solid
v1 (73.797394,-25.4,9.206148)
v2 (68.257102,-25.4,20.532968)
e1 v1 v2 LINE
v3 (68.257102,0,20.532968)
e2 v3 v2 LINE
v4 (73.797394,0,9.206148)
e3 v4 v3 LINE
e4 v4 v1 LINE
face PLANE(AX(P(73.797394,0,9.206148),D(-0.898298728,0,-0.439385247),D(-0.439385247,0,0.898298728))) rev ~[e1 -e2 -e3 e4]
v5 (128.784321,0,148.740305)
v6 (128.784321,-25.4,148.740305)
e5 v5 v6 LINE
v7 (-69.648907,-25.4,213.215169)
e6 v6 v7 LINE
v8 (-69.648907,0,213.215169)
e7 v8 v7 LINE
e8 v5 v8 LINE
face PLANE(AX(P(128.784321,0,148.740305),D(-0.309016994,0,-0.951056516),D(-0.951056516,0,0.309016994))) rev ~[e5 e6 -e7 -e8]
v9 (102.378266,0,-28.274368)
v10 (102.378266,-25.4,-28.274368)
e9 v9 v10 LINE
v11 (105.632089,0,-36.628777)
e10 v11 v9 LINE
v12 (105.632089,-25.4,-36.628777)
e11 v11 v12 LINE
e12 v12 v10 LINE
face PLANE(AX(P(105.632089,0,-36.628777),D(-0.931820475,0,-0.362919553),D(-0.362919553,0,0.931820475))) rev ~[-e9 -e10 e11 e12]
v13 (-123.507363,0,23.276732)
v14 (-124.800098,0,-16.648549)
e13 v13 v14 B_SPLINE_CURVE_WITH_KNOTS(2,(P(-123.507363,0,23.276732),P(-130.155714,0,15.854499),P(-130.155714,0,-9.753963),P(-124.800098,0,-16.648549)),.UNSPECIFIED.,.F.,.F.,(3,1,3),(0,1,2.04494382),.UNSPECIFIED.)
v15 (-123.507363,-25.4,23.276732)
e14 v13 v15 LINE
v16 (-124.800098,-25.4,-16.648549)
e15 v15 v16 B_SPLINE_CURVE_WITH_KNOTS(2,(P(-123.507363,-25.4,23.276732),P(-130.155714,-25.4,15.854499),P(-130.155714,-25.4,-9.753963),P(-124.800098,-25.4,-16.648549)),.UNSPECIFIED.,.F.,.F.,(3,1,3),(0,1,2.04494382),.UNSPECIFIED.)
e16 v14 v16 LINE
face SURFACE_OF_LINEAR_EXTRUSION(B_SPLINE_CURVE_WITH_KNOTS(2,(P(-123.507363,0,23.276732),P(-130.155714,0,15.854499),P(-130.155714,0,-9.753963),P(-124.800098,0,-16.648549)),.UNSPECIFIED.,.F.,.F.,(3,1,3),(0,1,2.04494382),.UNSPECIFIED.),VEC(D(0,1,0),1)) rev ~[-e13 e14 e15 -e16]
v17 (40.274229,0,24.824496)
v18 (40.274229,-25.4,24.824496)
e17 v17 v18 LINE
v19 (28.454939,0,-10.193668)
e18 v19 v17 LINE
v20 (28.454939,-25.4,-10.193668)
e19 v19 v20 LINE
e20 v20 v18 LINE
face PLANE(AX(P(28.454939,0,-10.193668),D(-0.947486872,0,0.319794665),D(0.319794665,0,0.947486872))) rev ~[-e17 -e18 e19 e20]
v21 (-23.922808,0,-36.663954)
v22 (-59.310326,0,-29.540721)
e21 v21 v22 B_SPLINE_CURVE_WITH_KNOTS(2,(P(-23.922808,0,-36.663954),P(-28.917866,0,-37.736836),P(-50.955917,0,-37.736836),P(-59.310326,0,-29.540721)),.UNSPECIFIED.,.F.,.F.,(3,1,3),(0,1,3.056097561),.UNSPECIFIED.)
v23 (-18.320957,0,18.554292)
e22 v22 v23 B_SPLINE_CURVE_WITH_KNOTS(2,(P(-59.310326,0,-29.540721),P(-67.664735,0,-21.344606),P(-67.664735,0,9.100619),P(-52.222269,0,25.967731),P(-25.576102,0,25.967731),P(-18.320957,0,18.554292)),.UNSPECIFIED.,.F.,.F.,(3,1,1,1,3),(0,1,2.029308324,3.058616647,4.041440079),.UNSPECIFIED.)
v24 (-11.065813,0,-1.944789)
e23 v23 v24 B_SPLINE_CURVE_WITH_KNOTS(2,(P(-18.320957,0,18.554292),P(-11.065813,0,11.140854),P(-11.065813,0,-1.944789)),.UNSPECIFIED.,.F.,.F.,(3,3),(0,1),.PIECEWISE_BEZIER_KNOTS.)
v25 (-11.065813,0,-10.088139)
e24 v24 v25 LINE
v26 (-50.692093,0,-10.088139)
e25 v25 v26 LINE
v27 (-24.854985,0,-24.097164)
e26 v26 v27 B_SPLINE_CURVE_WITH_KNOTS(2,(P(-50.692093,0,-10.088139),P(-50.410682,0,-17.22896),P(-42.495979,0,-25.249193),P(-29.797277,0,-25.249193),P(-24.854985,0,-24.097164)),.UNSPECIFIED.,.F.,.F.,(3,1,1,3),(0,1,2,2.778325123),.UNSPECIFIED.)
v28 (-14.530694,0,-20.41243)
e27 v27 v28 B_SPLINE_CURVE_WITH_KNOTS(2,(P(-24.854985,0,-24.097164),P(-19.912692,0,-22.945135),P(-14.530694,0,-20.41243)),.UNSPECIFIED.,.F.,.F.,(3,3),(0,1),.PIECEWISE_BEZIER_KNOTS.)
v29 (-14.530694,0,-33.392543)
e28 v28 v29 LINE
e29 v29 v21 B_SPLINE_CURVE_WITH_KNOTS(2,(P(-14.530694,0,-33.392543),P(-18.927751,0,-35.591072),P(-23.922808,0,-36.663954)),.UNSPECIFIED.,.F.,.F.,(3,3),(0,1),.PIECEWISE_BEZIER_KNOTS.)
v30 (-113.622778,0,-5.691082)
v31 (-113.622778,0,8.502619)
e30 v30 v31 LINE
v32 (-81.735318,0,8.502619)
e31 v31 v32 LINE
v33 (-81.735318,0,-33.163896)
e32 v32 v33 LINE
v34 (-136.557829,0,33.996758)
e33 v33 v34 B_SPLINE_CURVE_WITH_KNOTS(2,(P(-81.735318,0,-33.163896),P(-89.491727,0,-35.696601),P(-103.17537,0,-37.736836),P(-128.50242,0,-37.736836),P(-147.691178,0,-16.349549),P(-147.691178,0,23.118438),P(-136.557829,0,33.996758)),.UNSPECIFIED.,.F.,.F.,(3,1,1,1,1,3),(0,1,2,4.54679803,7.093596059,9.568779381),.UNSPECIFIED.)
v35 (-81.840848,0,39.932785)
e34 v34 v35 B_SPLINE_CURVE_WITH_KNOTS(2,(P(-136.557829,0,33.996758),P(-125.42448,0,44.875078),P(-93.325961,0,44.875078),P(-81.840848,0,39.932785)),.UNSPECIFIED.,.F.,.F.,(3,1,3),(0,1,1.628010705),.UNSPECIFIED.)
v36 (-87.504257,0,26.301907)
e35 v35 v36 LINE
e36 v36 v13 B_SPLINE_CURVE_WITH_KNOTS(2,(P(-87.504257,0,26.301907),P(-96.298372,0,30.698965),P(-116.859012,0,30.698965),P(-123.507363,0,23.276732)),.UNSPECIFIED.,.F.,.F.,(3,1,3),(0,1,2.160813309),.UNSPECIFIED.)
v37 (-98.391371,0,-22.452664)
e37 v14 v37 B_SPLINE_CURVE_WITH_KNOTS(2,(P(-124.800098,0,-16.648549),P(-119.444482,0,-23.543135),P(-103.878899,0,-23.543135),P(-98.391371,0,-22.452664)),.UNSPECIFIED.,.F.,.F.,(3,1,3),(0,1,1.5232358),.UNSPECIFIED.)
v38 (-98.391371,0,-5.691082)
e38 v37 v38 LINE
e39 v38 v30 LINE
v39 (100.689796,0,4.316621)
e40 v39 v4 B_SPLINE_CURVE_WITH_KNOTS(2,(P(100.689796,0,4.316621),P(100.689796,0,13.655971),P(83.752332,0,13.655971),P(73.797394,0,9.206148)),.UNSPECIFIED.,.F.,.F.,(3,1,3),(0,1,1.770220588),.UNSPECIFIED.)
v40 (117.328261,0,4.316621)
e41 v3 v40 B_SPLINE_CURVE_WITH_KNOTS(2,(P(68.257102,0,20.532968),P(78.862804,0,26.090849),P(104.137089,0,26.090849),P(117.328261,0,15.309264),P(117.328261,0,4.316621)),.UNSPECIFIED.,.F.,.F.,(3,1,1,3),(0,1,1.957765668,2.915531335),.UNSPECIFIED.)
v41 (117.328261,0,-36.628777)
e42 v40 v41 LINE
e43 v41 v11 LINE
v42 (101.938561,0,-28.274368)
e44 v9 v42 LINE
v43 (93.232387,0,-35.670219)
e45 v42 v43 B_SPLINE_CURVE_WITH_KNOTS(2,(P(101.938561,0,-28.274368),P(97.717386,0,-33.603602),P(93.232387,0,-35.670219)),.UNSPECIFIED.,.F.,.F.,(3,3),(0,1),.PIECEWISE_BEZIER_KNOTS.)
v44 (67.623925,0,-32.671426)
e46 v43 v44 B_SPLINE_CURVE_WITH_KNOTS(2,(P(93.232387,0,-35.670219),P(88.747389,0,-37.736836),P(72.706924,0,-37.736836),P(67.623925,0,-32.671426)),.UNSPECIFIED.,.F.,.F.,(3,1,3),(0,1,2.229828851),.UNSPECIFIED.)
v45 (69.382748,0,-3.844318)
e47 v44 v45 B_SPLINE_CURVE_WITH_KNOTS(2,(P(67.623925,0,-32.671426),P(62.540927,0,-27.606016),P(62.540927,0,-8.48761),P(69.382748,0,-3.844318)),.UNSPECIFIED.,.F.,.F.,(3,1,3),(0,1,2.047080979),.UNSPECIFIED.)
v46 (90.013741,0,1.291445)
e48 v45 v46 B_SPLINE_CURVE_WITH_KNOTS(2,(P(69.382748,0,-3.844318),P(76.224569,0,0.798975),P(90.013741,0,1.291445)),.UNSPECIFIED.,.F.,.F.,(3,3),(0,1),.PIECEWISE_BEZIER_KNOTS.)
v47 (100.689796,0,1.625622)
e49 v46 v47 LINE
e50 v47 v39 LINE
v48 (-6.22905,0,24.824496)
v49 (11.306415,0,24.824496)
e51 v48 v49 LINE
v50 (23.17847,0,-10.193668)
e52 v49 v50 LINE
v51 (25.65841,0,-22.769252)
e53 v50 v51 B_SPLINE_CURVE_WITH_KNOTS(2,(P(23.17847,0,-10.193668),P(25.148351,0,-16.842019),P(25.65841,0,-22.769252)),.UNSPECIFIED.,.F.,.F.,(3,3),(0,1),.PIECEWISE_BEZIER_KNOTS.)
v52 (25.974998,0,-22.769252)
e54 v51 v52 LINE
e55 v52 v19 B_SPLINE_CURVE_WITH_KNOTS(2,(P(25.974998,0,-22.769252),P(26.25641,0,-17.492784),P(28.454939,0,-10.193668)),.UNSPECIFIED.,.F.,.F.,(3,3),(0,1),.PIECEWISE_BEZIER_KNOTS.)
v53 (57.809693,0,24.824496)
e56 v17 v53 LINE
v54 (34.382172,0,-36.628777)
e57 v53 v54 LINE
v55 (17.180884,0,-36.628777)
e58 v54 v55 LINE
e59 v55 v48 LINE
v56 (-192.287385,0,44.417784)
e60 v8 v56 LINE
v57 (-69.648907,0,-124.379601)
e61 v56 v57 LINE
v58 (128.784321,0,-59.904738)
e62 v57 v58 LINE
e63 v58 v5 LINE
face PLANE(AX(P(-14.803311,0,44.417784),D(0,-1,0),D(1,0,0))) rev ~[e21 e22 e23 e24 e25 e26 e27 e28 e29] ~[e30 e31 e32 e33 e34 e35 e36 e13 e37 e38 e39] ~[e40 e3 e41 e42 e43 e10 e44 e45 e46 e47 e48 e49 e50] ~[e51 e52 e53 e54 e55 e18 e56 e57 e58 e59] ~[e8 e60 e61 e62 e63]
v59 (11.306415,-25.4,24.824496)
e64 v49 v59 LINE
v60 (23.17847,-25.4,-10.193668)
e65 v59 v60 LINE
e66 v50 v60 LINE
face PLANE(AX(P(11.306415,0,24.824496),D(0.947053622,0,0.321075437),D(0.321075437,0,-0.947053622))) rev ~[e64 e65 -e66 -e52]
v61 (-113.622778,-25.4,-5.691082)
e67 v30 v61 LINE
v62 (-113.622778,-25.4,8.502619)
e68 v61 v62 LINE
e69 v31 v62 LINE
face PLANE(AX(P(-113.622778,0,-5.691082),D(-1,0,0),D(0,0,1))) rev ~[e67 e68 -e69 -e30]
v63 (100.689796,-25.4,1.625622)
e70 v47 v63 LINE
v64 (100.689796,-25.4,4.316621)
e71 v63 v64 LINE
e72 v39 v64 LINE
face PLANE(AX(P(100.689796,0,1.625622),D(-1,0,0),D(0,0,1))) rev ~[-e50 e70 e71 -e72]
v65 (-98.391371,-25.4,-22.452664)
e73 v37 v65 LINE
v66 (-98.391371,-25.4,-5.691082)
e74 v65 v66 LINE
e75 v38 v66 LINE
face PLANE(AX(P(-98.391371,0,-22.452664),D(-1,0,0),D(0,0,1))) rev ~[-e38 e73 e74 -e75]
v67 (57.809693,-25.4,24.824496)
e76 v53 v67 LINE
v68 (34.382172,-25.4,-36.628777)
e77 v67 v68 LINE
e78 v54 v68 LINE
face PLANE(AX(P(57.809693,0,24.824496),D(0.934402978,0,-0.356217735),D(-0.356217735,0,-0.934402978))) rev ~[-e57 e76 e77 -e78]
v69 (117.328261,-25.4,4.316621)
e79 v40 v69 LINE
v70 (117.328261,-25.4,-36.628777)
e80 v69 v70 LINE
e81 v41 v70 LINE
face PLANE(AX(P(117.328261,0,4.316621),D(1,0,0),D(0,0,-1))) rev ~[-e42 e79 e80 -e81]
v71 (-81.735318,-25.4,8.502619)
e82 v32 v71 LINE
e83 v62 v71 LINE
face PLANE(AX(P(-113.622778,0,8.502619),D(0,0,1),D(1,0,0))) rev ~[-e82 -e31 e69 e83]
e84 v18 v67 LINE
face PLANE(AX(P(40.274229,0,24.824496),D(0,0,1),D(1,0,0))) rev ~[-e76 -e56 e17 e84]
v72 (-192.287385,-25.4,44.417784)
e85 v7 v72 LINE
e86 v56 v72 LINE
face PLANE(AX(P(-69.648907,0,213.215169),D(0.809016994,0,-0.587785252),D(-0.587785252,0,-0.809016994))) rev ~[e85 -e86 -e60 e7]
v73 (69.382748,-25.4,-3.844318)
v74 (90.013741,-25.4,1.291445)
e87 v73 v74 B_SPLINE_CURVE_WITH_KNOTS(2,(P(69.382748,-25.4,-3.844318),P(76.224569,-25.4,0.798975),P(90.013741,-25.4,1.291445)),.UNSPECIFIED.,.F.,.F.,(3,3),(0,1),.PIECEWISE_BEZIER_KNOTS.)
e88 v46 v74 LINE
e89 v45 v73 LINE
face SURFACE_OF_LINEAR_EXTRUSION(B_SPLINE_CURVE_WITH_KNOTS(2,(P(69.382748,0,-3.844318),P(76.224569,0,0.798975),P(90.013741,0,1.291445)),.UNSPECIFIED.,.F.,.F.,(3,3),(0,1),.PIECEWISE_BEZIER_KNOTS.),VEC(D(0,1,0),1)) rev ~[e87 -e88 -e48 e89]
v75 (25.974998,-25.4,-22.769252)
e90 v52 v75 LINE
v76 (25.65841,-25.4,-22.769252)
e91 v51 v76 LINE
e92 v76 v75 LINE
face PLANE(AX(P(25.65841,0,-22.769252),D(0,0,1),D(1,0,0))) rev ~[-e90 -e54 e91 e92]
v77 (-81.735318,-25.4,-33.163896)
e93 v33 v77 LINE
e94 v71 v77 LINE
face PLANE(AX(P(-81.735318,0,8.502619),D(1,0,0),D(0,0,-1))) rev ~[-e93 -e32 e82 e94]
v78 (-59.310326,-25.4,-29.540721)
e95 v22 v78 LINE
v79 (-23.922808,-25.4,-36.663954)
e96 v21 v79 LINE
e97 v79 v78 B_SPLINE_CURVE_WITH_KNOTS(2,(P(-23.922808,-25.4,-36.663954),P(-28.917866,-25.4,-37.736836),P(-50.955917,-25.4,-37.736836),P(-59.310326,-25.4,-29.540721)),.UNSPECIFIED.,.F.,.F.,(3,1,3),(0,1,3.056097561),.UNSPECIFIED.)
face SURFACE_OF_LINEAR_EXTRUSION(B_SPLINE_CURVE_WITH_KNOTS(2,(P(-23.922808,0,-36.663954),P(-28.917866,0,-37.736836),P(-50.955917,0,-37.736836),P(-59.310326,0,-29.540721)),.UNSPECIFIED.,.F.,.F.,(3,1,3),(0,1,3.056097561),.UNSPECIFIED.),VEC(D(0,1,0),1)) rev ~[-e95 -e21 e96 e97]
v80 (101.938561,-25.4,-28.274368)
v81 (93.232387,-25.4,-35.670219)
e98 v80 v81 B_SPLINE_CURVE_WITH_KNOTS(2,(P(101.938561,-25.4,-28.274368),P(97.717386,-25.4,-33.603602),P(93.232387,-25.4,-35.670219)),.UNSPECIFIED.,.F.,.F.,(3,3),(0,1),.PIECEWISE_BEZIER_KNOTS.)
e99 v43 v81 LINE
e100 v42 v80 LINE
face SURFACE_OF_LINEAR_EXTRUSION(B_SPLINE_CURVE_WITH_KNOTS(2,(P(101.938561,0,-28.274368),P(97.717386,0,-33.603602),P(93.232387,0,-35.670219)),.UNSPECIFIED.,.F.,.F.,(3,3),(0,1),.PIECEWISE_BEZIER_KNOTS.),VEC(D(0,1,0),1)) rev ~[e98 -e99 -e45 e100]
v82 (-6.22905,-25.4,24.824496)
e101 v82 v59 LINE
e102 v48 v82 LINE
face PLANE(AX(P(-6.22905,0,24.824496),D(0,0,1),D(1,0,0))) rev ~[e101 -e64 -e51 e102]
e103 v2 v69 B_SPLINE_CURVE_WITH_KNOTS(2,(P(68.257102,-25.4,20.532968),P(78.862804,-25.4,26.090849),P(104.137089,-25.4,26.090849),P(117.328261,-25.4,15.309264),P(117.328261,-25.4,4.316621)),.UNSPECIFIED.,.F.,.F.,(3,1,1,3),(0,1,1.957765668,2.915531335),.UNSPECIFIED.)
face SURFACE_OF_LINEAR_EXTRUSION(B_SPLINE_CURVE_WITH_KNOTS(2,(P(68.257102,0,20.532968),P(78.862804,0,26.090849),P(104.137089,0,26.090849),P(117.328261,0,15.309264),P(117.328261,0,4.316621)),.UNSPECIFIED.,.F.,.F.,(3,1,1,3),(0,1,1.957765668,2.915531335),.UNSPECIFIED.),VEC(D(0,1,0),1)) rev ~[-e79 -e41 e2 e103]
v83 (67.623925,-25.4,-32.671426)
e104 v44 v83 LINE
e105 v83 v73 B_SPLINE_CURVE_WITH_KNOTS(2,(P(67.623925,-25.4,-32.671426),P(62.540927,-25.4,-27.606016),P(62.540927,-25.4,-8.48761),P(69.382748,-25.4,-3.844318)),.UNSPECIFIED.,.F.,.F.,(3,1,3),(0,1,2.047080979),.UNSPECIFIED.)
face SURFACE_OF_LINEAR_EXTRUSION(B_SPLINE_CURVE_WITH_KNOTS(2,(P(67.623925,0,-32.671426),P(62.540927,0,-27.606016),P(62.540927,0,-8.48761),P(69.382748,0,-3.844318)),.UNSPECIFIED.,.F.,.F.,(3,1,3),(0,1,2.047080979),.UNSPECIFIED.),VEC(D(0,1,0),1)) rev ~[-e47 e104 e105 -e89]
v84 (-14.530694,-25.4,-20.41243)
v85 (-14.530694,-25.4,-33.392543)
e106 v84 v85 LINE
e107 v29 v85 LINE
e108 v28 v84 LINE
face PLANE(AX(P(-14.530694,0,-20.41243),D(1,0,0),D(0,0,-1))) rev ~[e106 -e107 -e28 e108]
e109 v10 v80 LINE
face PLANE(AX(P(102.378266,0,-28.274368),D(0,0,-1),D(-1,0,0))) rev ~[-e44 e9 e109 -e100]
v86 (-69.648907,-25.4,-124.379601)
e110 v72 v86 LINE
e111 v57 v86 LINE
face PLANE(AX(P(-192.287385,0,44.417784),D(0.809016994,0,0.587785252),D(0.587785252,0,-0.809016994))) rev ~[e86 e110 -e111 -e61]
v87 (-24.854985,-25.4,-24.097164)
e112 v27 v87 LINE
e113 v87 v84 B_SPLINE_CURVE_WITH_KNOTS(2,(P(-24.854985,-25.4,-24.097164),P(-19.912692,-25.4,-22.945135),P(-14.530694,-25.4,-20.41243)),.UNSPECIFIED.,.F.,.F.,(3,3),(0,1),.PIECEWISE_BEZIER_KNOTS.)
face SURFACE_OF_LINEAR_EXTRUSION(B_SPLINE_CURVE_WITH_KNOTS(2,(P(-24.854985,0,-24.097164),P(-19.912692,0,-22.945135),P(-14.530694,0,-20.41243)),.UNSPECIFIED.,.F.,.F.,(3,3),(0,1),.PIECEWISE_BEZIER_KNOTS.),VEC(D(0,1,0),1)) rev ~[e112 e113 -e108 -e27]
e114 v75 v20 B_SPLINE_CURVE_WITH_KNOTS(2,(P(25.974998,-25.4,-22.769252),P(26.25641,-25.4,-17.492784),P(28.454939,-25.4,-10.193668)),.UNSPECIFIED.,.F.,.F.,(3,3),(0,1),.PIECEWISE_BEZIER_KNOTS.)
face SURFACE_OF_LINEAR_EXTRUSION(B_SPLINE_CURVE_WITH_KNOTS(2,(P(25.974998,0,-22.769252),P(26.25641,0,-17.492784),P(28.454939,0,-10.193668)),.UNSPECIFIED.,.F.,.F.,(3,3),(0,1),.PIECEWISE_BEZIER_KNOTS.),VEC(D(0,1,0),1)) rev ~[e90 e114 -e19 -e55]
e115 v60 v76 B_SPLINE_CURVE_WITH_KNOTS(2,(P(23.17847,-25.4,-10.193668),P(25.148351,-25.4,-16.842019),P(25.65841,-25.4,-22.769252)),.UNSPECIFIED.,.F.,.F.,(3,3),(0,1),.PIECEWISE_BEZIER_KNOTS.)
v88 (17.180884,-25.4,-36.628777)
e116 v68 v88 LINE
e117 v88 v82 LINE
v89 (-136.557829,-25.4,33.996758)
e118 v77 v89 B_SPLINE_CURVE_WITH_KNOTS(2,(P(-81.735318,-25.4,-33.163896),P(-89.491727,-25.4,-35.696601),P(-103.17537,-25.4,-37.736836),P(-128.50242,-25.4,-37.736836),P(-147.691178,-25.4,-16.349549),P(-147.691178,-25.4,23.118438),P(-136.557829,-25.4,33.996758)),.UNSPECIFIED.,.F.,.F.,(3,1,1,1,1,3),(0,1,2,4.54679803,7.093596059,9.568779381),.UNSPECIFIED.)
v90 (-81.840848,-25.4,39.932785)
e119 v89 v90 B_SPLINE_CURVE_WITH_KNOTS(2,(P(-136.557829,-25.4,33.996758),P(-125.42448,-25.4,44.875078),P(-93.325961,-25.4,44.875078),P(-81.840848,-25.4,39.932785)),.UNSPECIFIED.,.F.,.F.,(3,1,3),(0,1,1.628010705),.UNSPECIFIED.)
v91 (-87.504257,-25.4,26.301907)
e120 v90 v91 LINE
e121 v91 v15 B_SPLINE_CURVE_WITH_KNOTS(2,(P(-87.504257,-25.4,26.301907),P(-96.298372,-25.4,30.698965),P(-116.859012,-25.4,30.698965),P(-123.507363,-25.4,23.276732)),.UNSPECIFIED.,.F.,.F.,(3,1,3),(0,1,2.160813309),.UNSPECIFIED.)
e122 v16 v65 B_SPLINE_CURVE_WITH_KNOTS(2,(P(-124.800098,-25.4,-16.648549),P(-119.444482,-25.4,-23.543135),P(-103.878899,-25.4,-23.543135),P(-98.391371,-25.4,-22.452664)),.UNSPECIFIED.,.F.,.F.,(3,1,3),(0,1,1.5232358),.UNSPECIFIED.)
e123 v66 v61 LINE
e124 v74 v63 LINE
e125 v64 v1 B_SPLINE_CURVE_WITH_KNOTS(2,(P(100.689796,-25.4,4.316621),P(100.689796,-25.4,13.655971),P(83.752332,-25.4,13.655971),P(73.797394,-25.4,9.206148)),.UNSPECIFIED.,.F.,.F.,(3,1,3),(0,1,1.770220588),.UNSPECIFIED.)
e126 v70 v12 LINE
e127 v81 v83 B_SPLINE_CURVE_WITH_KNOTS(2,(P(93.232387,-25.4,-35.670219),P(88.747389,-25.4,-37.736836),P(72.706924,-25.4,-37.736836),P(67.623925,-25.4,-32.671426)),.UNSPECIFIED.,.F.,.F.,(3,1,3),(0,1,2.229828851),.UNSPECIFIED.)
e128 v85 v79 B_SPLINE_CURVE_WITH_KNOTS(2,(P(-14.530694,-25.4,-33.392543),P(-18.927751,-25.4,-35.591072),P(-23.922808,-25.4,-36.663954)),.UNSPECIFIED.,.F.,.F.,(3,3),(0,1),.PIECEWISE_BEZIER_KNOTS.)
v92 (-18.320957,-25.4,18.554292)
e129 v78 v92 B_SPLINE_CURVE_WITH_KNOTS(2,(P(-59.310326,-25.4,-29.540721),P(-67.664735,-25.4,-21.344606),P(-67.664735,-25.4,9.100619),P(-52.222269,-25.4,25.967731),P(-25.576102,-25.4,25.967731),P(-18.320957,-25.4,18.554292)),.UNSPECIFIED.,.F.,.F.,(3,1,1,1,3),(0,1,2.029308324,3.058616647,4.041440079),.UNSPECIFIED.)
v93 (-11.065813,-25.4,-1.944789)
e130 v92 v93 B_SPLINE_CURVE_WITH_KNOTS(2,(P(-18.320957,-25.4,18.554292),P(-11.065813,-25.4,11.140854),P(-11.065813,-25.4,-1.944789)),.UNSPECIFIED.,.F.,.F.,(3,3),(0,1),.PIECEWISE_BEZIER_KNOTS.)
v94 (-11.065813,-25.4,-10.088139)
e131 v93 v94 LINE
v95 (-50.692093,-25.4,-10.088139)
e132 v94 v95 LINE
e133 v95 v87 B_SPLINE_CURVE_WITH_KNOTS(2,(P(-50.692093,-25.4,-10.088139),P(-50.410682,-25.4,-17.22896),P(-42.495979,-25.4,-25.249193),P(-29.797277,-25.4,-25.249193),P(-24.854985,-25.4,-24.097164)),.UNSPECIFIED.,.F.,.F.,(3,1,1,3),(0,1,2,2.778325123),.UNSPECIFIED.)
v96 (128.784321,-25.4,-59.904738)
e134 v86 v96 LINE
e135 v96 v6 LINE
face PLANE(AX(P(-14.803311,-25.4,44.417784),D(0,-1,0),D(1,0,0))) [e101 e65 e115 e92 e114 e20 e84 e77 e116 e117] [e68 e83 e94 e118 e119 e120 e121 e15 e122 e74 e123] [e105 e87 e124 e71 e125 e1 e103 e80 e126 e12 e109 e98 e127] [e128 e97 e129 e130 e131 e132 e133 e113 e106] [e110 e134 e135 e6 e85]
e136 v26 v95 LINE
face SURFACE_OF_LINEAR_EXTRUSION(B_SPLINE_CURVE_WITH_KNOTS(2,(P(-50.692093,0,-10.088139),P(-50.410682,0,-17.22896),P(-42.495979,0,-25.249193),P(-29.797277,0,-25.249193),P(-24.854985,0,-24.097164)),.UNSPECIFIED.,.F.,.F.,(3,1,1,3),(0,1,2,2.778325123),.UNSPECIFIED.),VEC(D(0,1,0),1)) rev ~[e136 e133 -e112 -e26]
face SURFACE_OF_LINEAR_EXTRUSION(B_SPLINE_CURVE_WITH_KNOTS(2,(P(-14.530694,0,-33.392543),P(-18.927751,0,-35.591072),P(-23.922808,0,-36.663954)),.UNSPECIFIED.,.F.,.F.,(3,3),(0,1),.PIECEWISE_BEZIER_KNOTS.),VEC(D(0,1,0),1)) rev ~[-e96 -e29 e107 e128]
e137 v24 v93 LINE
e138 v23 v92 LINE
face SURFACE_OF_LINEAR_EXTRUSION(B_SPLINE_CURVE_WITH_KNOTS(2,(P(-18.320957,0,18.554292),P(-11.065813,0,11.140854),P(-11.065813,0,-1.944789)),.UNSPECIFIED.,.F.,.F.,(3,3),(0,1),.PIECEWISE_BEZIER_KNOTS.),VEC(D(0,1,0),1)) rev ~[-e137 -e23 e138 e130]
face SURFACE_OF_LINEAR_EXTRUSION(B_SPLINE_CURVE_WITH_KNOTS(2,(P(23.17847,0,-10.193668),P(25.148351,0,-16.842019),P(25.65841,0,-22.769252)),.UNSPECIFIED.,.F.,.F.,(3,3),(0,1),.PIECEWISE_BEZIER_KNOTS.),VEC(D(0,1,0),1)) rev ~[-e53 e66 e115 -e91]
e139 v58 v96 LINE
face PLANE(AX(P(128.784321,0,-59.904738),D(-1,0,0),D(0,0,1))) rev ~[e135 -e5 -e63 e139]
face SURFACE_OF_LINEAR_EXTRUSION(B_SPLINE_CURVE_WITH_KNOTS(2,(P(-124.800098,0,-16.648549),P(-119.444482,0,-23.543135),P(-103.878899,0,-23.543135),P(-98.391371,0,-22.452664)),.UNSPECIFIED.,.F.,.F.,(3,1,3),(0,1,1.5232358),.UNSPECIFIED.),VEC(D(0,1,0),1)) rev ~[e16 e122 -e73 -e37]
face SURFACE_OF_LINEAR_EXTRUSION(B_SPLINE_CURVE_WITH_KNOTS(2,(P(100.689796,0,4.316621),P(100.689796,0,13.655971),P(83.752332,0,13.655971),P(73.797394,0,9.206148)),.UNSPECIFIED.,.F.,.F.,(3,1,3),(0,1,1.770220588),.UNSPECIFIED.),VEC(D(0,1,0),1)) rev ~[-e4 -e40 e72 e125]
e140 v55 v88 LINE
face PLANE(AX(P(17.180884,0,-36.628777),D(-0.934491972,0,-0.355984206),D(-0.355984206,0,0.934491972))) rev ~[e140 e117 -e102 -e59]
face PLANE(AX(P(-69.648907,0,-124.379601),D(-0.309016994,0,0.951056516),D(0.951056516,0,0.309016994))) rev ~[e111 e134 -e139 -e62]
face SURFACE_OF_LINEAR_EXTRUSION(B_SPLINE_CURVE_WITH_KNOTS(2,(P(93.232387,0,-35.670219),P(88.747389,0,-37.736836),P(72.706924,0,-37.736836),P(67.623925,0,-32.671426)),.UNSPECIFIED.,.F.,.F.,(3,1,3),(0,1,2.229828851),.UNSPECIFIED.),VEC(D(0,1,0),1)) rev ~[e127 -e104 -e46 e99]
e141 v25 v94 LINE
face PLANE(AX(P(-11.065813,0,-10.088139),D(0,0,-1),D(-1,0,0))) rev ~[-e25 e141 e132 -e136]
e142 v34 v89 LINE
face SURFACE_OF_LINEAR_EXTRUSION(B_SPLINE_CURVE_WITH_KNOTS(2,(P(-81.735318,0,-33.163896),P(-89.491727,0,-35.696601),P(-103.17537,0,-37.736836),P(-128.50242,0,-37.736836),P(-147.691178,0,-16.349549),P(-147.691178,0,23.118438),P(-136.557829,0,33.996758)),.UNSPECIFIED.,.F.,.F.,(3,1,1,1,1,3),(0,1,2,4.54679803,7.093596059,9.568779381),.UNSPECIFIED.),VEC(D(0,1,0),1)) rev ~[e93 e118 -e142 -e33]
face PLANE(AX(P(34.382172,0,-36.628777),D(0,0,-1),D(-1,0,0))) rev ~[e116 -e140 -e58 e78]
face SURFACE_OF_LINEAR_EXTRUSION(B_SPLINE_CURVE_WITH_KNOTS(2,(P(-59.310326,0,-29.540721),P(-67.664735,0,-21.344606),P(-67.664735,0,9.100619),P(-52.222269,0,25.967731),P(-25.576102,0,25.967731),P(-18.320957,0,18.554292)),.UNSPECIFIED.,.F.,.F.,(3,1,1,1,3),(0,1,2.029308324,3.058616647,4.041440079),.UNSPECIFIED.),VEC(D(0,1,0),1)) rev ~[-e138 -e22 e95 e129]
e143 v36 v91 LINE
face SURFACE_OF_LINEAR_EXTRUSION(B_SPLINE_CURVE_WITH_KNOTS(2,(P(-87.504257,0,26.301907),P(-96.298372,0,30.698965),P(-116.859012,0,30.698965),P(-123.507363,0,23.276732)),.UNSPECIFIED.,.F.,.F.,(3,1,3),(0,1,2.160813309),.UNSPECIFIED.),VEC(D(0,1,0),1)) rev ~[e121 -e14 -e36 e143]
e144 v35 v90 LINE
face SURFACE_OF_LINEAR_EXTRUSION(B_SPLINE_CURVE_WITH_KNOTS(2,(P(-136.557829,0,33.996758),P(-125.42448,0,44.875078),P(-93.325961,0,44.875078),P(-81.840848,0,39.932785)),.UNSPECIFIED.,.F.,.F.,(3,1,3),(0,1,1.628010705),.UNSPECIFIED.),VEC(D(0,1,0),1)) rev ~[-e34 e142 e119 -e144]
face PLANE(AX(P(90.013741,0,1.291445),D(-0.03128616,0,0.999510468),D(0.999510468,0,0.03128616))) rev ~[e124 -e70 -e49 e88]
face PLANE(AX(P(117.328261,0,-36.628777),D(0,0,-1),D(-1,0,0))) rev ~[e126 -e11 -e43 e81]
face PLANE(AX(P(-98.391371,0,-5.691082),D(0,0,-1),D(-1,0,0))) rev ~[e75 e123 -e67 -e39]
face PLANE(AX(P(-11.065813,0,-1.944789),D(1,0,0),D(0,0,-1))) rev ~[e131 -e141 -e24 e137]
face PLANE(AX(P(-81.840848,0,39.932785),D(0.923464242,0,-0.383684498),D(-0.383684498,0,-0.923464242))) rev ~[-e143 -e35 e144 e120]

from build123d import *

# Parameters (mm, degrees)
F1_DEPTH = 25.4


with BuildPart() as f1:
    # F0 (on Front) → F1 (new body)
    with BuildSketch(Plane.XZ):
        Polygon((-69.6489065795, 213.2151687083), (-192.2873854637, 44.417783618), (-69.6489065795, -124.3796014723), (128.7843205837, -59.9047375799), (128.7843205837, 148.7403048159), align=None)
        with BuildLine():
            Line((-113.6227780141, -5.6910817596), (-113.6227780141, 8.5026193143))
            Line((-113.6227780141, 8.5026193143), (-81.7353182283, 8.5026193143))
            Line((-81.7353182283, 8.5026193143), (-81.7353182283, -33.1638959821))
            add(Edge.make_bspline(
                [(-81.7353182283, -33.1638959821), (-89.4917273654, -35.6966010064), (-96.333548577, -36.7167183079)],
                knots=[0, 0, 0, 1, 1, 1], degree=2))
            add(Edge.make_bspline(
                [(-96.333548577, -36.7167183079), (-103.1753697886, -37.7368356094), (-110.3161908989, -37.7368356094)],
                knots=[0, 0, 0, 1, 1, 1], degree=2))
            add(Edge.make_bspline(
                [(-110.3161908989, -37.7368356094), (-128.5024200321, -37.7368356094), (-138.0967991348, -27.0431921732)],
                knots=[0, 0, 0, 1, 1, 1], degree=2))
            add(Edge.make_bspline(
                [(-138.0967991348, -27.0431921732), (-147.6911782374, -16.3495487371), (-147.6911782374, 3.665856247)],
                knots=[0, 0, 0, 1, 1, 1], degree=2))
            add(Edge.make_bspline(
                [(-147.6911782374, 3.665856247), (-147.6911782374, 23.1184378924), (-136.5578290679, 33.9967577365)],
                knots=[0, 0, 0, 1, 1, 1], degree=2))
            add(Edge.make_bspline(
                [(-136.5578290679, 33.9967577365), (-125.4244798984, 44.8750775807), (-105.708074813, 44.8750775807)],
                knots=[0, 0, 0, 1, 1, 1], degree=2))
            add(Edge.make_bspline(
                [(-105.708074813, 44.8750775807), (-93.3259613606, 44.8750775807), (-81.8408476043, 39.9327851374)],
                knots=[0, 0, 0, 1, 1, 1], degree=2))
            Line((-81.8408476043, 39.9327851374), (-87.5042574504, 26.3019074021))
            add(Edge.make_bspline(
                [(-87.5042574504, 26.3019074021), (-96.2983721183, 30.6989647361), (-105.813604189, 30.6989647361)],
                knots=[0, 0, 0, 1, 1, 1], degree=2))
            add(Edge.make_bspline(
                [(-105.813604189, 30.6989647361), (-116.8590122118, 30.6989647361), (-123.5073629008, 23.2767319564)],
                knots=[0, 0, 0, 1, 1, 1], degree=2))
            add(Edge.make_bspline(
                [(-123.5073629008, 23.2767319564), (-130.1557135897, 15.8544991767), (-130.1557135897, 3.3316798896)],
                knots=[0, 0, 0, 1, 1, 1], degree=2))
            add(Edge.make_bspline(
                [(-130.1557135897, 3.3316798896), (-130.1557135897, -9.7539627362), (-124.8000977569, -16.6485486358)],
                knots=[0, 0, 0, 1, 1, 1], degree=2))
            add(Edge.make_bspline(
                [(-124.8000977569, -16.6485486358), (-119.4444819242, -23.5431345354), (-109.2257206801, -23.5431345354)],
                knots=[0, 0, 0, 1, 1, 1], degree=2))
            add(Edge.make_bspline(
                [(-109.2257206801, -23.5431345354), (-103.878898962, -23.5431345354), (-98.3913714093, -22.4526643166)],
                knots=[0, 0, 0, 1, 1, 1], degree=2))
            Line((-98.3913714093, -22.4526643166), (-98.3913714093, -5.6910817596))
            Line((-98.3913714093, -5.6910817596), (-113.6227780141, -5.6910817596))
        make_face(mode=Mode.SUBTRACT)
        with BuildLine():
            add(Edge.make_bspline(
                [(-23.9228084016, -36.6639536199), (-28.917865533, -37.7368356094), (-36.1290395607, -37.7368356094)],
                knots=[0, 0, 0, 1, 1, 1], degree=2))
            add(Edge.make_bspline(
                [(-36.1290395607, -37.7368356094), (-50.9559168907, -37.7368356094), (-59.3103258252, -29.5407207389)],
                knots=[0, 0, 0, 1, 1, 1], degree=2))
            add(Edge.make_bspline(
                [(-59.3103258252, -29.5407207389), (-67.6647347597, -21.3446058685), (-67.6647347597, -6.341846245)],
                knots=[0, 0, 0, 1, 1, 1], degree=2))
            add(Edge.make_bspline(
                [(-67.6647347597, -6.341846245), (-67.6647347597, 9.1006191118), (-59.9435020813, 17.5341750783)],
                knots=[0, 0, 0, 1, 1, 1], degree=2))
            add(Edge.make_bspline(
                [(-59.9435020813, 17.5341750783), (-52.2222694029, 25.9677310448), (-38.5913916677, 25.9677310448)],
                knots=[0, 0, 0, 1, 1, 1], degree=2))
            add(Edge.make_bspline(
                [(-38.5913916677, 25.9677310448), (-25.5761019592, 25.9677310448), (-18.3209573582, 18.5542923797)],
                knots=[0, 0, 0, 1, 1, 1], degree=2))
            add(Edge.make_bspline(
                [(-18.3209573582, 18.5542923797), (-11.0658127572, 11.1408537147), (-11.0658127572, -1.9447889111)],
                knots=[0, 0, 0, 1, 1, 1], degree=2))
            Line((-11.0658127572, -1.9447889111), (-11.0658127572, -10.0881390936))
            Line((-11.0658127572, -10.0881390936), (-50.6920934507, -10.0881390936))
            add(Edge.make_bspline(
                [(-50.6920934507, -10.0881390936), (-50.4106817813, -17.2289602039), (-46.4533301808, -21.2390764924)],
                knots=[0, 0, 0, 1, 1, 1], degree=2))
            add(Edge.make_bspline(
                [(-46.4533301808, -21.2390764924), (-42.4959785802, -25.249192781), (-35.3551574699, -25.249192781)],
                knots=[0, 0, 0, 1, 1, 1], degree=2))
            add(Edge.make_bspline(
                [(-35.3551574699, -25.249192781), (-29.7972769998, -25.249192781), (-24.8549845564, -24.0971637595)],
                knots=[0, 0, 0, 1, 1, 1], degree=2))
            add(Edge.make_bspline(
                [(-24.8549845564, -24.0971637595), (-19.9126921131, -22.945134738), (-14.5306939363, -20.4124297137)],
                knots=[0, 0, 0, 1, 1, 1], degree=2))
            Line((-14.5306939363, -20.4124297137), (-14.5306939363, -33.3925429635))
            add(Edge.make_bspline(
                [(-14.5306939363, -33.3925429635), (-18.9277512703, -35.5910716304), (-23.9228084016, -36.6639536199)],
                knots=[0, 0, 0, 1, 1, 1], degree=2))
        make_face(mode=Mode.SUBTRACT)
        with BuildLine():
            Line((34.3821718464, -36.6287771612), (17.180883556, -36.6287771612))
            Line((17.180883556, -36.6287771612), (-6.2290496899, 24.8244961379))
            Line((-6.2290496899, 24.8244961379), (11.3064149579, 24.8244961379))
            Line((11.3064149579, 24.8244961379), (23.1784697595, -10.1936684696))
            add(Edge.make_bspline(
                [(23.1784697595, -10.1936684696), (25.1483514451, -16.8420191585), (25.6584100959, -22.7692524447)],
                knots=[0, 0, 0, 1, 1, 1], degree=2))
            Line((25.6584100959, -22.7692524447), (25.9749982239, -22.7692524447))
            add(Edge.make_bspline(
                [(25.9749982239, -22.7692524447), (26.2564098933, -17.4927836439), (28.4549385603, -10.1936684696)],
                knots=[0, 0, 0, 1, 1, 1], degree=2))
            Line((28.4549385603, -10.1936684696), (40.2742286739, 24.8244961379))
            Line((40.2742286739, 24.8244961379), (57.8096933217, 24.8244961379))
            Line((57.8096933217, 24.8244961379), (34.3821718464, -36.6287771612))
        make_face(mode=Mode.SUBTRACT)
        with BuildLine():
            Line((117.3282613939, -36.6287771612), (105.6320888856, -36.6287771612))
            Line((105.6320888856, -36.6287771612), (102.3782664585, -28.2743682268))
            Line((102.3782664585, -28.2743682268), (101.9385607251, -28.2743682268))
            add(Edge.make_bspline(
                [(101.9385607251, -28.2743682268), (97.7173856845, -33.6036017155), (93.2323872039, -35.6702186624)],
                knots=[0, 0, 0, 1, 1, 1], degree=2))
            add(Edge.make_bspline(
                [(93.2323872039, -35.6702186624), (88.7473887233, -37.7368356094), (81.5538029249, -37.7368356094)],
                knots=[0, 0, 0, 1, 1, 1], degree=2))
            add(Edge.make_bspline(
                [(81.5538029249, -37.7368356094), (72.7069235691, -37.7368356094), (67.623925291, -32.6714255607)],
                knots=[0, 0, 0, 1, 1, 1], degree=2))
            add(Edge.make_bspline(
                [(67.623925291, -32.6714255607), (62.540927013, -27.606015512), (62.540927013, -18.2666657347)],
                knots=[0, 0, 0, 1, 1, 1], degree=2))
            add(Edge.make_bspline(
                [(62.540927013, -18.2666657347), (62.540927013, -8.487610224), (69.3827482246, -3.8443176794)],
                knots=[0, 0, 0, 1, 1, 1], degree=2))
            add(Edge.make_bspline(
                [(69.3827482246, -3.8443176794), (76.2245694362, 0.7989748653), (90.0137412355, 1.2914452867)],
                knots=[0, 0, 0, 1, 1, 1], degree=2))
            Line((90.0137412355, 1.2914452867), (100.6897964423, 1.6256216441))
            Line((100.6897964423, 1.6256216441), (100.6897964423, 4.3166207324))
            add(Edge.make_bspline(
                [(100.6897964423, 4.3166207324), (100.6897964423, 13.6559705097), (91.1217996836, 13.6559705097)],
                knots=[0, 0, 0, 1, 1, 1], degree=2))
            add(Edge.make_bspline(
                [(91.1217996836, 13.6559705097), (83.7523315919, 13.6559705097), (73.7973937879, 9.2061484878)],
                knots=[0, 0, 0, 1, 1, 1], degree=2))
            Line((73.7973937879, 9.2061484878), (68.2571015471, 20.53296818))
            add(Edge.make_bspline(
                [(68.2571015471, 20.53296818), (78.8628038366, 26.0908486501), (91.772564169, 26.0908486501)],
                knots=[0, 0, 0, 1, 1, 1], degree=2))
            add(Edge.make_bspline(
                [(91.772564169, 26.0908486501), (104.1370893921, 26.0908486501), (110.732675393, 20.7000563587)],
                knots=[0, 0, 0, 1, 1, 1], degree=2))
            add(Edge.make_bspline(
                [(110.732675393, 20.7000563587), (117.3282613939, 15.3092640673), (117.3282613939, 4.3166207324)],
                knots=[0, 0, 0, 1, 1, 1], degree=2))
            Line((117.3282613939, 4.3166207324), (117.3282613939, -36.6287771612))
        make_face(mode=Mode.SUBTRACT)
    extrude(amount=F1_DEPTH)


solid = f1.part
